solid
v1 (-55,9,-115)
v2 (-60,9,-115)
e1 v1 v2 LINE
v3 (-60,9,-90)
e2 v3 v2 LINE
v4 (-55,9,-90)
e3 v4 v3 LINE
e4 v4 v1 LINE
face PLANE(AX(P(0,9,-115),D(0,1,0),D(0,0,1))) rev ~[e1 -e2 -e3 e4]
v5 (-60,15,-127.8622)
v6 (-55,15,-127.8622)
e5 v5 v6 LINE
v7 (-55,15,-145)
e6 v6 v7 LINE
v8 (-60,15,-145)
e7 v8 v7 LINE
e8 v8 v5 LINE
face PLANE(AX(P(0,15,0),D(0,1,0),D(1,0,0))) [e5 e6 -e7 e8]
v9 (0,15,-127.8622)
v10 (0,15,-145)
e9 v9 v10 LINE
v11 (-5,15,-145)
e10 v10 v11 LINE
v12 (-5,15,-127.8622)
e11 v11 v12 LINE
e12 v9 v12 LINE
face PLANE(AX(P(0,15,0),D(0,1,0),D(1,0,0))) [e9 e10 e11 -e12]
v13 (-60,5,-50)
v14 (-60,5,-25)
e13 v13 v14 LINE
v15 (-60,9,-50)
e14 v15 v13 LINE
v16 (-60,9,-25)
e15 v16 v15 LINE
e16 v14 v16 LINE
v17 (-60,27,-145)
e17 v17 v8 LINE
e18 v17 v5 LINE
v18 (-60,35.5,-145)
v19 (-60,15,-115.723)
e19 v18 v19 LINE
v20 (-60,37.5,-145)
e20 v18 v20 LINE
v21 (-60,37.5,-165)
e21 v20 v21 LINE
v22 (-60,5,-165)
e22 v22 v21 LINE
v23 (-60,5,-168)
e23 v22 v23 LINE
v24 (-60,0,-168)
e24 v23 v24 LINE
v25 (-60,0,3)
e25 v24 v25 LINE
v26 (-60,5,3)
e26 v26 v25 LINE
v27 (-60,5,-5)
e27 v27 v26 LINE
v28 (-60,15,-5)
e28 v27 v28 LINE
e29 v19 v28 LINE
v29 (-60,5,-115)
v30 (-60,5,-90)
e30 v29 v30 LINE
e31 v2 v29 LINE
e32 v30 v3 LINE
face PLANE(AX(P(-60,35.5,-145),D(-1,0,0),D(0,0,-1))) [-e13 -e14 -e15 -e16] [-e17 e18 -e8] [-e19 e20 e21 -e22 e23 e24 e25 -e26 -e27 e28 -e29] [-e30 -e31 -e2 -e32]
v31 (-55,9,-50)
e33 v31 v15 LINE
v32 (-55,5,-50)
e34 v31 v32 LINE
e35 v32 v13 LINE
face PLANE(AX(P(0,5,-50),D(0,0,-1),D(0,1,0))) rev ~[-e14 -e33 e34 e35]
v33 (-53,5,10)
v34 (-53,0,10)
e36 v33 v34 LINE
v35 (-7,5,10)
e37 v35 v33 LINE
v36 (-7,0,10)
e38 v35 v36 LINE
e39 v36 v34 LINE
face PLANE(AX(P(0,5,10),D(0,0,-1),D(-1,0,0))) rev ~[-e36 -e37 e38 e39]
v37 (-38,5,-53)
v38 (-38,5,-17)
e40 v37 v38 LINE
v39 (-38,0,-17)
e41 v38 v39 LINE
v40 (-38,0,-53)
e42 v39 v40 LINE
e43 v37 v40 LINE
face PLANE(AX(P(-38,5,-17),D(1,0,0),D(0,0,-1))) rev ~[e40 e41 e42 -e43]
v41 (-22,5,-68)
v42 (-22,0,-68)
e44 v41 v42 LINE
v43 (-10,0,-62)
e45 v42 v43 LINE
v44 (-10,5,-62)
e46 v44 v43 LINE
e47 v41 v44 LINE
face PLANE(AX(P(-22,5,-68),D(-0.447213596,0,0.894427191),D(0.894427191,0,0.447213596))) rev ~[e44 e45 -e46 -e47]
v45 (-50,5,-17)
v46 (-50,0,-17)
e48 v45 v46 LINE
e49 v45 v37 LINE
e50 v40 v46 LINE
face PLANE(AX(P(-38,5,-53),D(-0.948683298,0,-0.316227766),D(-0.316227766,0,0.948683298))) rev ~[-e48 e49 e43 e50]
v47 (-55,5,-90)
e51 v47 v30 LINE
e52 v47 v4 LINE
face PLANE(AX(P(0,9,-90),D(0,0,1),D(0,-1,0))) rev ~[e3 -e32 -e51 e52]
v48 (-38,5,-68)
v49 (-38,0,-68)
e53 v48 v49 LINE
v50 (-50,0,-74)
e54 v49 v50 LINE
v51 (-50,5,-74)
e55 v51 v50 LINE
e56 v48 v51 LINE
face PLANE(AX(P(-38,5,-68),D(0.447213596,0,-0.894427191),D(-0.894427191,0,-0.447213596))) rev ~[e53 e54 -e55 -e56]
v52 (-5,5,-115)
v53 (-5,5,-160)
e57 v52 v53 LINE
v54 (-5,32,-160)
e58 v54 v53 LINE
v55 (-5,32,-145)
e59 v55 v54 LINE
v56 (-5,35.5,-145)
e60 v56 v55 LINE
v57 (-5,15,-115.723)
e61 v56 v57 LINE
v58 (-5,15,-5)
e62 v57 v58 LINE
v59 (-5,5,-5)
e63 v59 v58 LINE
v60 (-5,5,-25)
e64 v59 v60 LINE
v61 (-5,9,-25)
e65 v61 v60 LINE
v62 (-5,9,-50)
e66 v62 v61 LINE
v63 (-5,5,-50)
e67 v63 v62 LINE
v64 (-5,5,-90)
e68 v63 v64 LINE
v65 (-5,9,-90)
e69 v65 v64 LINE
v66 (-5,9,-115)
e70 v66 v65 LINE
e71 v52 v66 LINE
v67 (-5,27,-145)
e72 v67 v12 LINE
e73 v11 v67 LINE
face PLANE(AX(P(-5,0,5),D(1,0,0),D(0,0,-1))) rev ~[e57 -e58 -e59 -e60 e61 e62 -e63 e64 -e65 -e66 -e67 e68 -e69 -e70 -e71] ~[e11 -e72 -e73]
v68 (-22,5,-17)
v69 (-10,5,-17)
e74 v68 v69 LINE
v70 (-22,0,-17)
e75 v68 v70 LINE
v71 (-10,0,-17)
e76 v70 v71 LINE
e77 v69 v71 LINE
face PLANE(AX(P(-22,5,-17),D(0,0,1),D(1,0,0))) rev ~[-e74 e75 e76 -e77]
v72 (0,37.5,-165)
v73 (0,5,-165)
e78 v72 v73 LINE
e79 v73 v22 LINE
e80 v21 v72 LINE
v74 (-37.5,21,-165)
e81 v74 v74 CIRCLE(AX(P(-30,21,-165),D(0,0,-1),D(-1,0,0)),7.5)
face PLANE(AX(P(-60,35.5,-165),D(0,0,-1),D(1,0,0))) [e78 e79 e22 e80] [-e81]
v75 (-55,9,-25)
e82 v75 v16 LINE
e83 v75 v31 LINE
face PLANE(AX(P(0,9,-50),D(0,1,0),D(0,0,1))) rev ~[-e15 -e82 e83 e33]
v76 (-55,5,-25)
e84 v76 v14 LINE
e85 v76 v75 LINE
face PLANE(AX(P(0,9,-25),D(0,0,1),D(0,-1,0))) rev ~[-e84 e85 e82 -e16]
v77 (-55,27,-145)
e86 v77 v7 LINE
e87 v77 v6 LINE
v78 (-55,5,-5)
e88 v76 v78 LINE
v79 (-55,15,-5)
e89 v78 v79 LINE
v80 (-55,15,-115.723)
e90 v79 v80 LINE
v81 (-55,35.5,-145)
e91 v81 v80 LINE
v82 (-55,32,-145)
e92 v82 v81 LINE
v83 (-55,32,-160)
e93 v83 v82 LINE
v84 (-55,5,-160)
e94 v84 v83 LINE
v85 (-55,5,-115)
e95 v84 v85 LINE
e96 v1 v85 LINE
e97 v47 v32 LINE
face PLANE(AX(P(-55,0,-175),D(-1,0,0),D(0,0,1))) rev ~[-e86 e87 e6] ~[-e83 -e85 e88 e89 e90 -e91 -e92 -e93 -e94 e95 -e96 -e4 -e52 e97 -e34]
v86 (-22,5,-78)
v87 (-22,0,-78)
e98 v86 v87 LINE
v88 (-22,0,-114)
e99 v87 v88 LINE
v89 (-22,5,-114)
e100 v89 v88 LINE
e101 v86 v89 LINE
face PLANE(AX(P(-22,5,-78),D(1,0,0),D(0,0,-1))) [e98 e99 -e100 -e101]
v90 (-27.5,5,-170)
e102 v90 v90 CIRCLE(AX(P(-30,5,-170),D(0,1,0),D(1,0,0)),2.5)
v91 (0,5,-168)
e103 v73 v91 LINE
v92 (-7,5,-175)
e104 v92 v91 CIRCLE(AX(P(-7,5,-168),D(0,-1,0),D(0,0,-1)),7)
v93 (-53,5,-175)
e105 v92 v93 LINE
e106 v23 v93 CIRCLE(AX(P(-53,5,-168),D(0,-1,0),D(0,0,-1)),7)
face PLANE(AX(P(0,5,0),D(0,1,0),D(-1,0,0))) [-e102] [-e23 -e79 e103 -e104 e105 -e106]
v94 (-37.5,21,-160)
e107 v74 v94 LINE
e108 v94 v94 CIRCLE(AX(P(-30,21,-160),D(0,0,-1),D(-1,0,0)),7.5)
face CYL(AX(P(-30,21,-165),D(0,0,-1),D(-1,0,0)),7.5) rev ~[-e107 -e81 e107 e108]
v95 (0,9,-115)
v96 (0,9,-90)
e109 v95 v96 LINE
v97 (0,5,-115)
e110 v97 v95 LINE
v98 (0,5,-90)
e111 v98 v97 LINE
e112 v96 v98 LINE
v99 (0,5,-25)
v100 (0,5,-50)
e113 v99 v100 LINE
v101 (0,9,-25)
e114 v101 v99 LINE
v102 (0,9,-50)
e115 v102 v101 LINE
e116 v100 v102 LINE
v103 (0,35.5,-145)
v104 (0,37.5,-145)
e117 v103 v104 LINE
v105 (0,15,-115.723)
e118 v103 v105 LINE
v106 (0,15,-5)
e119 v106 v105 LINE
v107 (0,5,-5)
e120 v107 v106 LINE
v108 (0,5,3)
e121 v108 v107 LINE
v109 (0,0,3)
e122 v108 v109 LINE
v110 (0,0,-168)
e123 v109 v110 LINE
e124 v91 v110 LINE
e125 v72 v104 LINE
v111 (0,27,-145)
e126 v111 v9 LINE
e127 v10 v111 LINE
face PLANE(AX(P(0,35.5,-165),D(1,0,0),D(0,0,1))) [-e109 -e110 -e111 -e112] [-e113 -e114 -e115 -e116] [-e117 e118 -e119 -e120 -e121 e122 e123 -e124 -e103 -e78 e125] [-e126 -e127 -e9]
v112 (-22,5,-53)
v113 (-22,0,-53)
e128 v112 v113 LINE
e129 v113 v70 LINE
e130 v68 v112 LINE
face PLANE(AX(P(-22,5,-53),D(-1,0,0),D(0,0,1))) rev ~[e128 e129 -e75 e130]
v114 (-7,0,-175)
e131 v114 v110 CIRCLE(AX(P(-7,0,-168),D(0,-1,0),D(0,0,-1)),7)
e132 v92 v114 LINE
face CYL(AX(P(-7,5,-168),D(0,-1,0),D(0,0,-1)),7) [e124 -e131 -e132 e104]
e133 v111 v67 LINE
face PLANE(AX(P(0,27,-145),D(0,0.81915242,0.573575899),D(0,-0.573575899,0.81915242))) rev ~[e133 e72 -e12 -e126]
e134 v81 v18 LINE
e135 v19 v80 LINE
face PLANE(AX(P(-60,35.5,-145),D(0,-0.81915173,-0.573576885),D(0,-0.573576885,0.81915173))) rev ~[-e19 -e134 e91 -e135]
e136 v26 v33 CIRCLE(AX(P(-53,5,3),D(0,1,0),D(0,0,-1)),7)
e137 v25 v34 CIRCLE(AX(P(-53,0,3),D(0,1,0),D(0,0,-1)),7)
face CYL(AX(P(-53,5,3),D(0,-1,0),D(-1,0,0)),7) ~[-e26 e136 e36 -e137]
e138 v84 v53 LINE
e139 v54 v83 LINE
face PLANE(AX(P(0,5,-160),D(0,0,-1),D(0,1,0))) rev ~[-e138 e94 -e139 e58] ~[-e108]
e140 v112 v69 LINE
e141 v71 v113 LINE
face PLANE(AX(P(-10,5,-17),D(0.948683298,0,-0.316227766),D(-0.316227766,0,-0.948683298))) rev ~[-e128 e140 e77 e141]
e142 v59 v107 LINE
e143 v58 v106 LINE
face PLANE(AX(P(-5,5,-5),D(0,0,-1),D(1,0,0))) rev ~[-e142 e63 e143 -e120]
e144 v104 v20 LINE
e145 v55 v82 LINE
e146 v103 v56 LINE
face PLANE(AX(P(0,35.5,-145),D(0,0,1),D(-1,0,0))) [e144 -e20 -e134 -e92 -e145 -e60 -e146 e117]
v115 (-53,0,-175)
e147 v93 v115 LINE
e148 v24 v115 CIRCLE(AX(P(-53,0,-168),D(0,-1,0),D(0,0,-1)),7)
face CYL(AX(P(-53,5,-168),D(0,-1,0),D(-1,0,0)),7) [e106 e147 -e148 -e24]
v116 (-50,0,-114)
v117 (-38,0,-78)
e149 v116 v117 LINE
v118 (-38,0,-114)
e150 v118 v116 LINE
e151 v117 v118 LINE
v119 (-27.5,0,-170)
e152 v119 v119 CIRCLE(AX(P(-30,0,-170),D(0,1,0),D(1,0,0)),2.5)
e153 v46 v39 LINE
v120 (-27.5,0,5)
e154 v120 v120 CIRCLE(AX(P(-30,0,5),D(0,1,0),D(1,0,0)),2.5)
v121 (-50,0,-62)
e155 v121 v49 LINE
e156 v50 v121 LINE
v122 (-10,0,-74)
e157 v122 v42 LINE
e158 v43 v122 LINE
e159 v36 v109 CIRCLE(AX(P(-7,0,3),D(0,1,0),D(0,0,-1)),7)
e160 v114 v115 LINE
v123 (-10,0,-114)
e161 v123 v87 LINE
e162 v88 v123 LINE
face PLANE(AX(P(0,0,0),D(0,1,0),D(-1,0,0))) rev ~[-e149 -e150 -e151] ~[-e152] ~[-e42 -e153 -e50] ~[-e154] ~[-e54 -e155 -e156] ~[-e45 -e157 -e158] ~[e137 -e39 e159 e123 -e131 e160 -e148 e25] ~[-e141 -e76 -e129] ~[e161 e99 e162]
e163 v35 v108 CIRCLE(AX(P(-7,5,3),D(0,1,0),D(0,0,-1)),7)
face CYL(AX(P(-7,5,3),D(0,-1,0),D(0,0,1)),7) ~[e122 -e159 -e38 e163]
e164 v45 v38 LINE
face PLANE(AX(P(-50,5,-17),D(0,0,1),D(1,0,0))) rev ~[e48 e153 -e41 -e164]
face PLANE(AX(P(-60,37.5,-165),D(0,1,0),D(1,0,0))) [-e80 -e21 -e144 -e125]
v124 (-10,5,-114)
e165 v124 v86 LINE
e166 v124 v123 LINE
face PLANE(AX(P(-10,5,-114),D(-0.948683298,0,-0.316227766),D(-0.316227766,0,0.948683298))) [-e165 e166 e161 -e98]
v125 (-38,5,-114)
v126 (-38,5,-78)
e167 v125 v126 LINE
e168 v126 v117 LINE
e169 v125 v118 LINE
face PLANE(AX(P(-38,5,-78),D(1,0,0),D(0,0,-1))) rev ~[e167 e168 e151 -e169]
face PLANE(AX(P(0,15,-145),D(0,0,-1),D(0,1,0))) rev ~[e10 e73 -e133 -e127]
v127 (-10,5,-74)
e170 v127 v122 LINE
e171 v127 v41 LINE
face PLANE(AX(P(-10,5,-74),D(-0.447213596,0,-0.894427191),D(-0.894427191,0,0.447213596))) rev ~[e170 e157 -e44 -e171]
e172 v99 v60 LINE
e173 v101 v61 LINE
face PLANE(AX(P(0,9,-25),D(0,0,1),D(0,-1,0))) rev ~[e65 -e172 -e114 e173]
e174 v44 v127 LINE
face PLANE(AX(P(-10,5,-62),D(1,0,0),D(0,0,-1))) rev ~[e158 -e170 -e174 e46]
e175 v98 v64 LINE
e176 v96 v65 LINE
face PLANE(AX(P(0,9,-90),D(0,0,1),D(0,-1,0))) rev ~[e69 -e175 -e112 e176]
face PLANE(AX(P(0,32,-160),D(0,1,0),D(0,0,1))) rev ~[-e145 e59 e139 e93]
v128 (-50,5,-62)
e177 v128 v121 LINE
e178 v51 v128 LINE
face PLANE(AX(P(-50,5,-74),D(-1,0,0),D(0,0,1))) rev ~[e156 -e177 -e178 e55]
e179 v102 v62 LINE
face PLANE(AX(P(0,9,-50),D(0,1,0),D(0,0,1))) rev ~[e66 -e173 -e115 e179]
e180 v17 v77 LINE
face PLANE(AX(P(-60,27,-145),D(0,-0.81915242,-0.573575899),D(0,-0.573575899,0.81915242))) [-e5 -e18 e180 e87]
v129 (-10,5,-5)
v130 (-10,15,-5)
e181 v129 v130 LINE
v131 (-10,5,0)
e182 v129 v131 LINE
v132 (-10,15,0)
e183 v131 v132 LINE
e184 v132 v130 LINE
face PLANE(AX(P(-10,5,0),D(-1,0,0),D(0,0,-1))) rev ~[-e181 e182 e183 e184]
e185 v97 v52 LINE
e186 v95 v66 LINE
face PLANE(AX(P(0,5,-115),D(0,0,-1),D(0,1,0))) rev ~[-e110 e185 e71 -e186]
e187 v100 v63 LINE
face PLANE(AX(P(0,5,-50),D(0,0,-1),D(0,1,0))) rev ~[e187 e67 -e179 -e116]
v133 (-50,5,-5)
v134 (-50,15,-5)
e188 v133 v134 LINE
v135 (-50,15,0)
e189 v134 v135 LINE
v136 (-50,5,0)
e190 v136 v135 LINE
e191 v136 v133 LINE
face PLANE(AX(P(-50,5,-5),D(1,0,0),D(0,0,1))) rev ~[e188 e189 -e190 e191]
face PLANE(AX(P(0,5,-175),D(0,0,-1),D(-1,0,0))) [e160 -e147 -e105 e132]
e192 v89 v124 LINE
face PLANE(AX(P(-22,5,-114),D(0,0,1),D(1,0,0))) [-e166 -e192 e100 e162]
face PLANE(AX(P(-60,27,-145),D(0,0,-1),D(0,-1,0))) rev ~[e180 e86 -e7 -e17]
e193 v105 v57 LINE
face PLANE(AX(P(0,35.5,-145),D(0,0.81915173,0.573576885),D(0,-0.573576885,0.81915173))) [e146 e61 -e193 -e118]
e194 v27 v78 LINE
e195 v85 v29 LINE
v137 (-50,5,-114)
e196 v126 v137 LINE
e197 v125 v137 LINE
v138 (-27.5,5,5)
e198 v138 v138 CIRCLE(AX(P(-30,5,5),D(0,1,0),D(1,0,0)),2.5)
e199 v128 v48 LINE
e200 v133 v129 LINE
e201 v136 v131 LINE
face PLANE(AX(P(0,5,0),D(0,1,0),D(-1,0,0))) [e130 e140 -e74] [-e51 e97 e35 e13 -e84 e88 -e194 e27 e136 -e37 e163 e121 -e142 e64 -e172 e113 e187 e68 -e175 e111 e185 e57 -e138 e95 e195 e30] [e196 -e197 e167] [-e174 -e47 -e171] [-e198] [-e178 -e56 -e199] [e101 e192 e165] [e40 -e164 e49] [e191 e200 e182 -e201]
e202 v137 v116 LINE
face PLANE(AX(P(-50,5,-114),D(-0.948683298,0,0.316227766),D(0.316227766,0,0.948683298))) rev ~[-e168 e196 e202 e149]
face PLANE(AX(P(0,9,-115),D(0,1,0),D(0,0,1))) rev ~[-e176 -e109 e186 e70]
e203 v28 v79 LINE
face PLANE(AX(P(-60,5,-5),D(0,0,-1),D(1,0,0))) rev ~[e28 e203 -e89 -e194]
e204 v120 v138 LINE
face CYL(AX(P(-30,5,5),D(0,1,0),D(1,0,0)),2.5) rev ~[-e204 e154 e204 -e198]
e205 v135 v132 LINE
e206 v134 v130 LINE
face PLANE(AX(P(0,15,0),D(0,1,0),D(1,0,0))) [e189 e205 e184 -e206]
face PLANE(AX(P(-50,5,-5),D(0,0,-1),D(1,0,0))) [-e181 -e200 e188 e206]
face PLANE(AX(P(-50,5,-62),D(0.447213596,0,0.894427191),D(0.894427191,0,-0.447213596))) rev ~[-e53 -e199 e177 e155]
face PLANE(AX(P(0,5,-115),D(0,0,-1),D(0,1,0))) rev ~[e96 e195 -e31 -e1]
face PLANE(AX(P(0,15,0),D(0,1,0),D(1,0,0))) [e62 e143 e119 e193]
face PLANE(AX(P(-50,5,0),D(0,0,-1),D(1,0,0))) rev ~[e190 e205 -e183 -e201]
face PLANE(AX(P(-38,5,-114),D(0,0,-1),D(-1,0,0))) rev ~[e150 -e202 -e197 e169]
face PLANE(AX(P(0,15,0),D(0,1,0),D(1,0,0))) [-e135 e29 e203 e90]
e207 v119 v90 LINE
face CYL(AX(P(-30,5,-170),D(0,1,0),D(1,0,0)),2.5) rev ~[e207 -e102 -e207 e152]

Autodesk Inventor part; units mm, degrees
ref_plane "YZ Plane" through (0, 0, 0) normal (1, 0, 0) x (0, 1, 0)
ref_plane "XZ Plane" through (0, 0, 0) normal (0, 1, 0) x (-1, 0, 0)
ref_plane "XY Plane" through (0, 0, 0) normal (0, 0, 1) x (1, 0, 0)
sketch "Sketch1" plane through (0, 0, 0) normal (0, 1, 0) x (-1, 0, 0)
  line L0 (0, 0) -> (60, 0)
  line L1 (60, 0) -> (60, -170)
  line L2 (60, -170) -> (0, -170)
  line L3 (0, -170) -> (0, 0)
  dimension "d0" = 60
  dimension "d1" = 170
extrude "Extrusion1" add sketch "Sketch1" along normal blind 5
sketch "Sketch2" plane through (0, 5, 0) normal (0, 1, 0) x (1, 0, 0)
  line L0 (-60, 0) -> (-55, 0)
  line L1 (-60, 170) -> (-60, 0) projected
  line L2 (0, 0) -> (0, 170) projected
  line L3 (-60, 170) -> (0, 170)
  line L4 (0, 170) -> (0, 162.5)
  line L5 (0, 162.5) -> (-60, 162.5)
  line L6 (-60, 162.5) -> (-60, 170)
  line L7 (-60, 0) -> (0, 0) projected
  line L8 (-60, 0) -> (0, 0)
  line L9 (0, 0) -> (0, 7.5)
  line L10 (0, 7.5) -> (-60, 7.5)
  line L11 (-60, 7.5) -> (-60, 0)
  line L12 (0, 170) -> (-60, 170) projected
  line L13 (-60, 0) -> (-55, 0)
  line L14 (-55, 0) -> (-55, 170)
  line L15 (-55, 170) -> (-60, 170)
  line L16 (-60, 170) -> (-60, 0)
  line L17 (0, 0) -> (-5, 0)
  line L18 (-5, 0) -> (-5, 170)
  line L19 (-5, 170) -> (0, 170)
  line L20 (0, 170) -> (0, 0)
  line L21 (-60, 0) -> (0, 0)
  line L22 (0, 0) -> (0, -5)
  line L23 (0, -5) -> (-60, -5)
  line L24 (-60, -5) -> (-60, 0)
  line L25 (-60, 170) -> (0, 170)
  line L26 (0, 170) -> (0, 175)
  line L27 (0, 175) -> (-60, 175)
  line L28 (-60, 175) -> (-60, 170)
  dimension "d5" = 7.5
  dimension "d6" = 7.5
  dimension "d7" = 5
  dimension "d8" = 5
  dimension "d10" = 5
  dimension "d11" = 5
extrude "Extrusion2" add sketch "Sketch2" against normal blind 5 contours L0 L7 L22 L23 L24 | L28 L27 L26 L3
sketch "Sketch3" plane through (0, 5, 0) normal (0, 1, 0) x (1, 0, 0)
  line L0 (0, -5) -> (-60, -5) projected
  line L1 (0, -5) -> (0, 175) projected
  line L2 (-60, -10) -> (0, -10)
  line L3 (0, -5) -> (0, 5)
  line L4 (-60, 5) -> (-60, -5)
  line L5 (-55, 175) -> (-60, 175)
  line L6 (-60, 175) -> (-60, 5)
  line L7 (-5, 175) -> (0, 175)
  line L8 (-60, 175) -> (-60, -5) projected
  line L9 (-60, 175) -> (-1, 175)
  line L10 (-1, 165) -> (-60, 165)
  line L11 (-60, 165) -> (-60, 175)
  line L12 (-55, 165) -> (-5, 165)
  line L13 (-5, 160) -> (-55, 160)
  line L14 (-55, 5) -> (-55, 160)
  line L15 (-5, 5) -> (-5, 160)
  line L16 (-50, 5) -> (-10, 5)
  line L17 (-10, 5) -> (-10, 5)
  line L18 (-10, 5) -> (-50, 5)
  line L19 (-50, 5) -> (-50, 5)
  line L20 (-60, 5) -> (-55, 5)
  line L21 (-5, 5) -> (0, 5)
  line L22 (0, 5) -> (0, 165)
  line L23 (-60, -5) -> (-60, -10)
  line L24 (0, -5) -> (0, -10)
  line L25 (-50, 5) -> (-50, 0)
  line L26 (-50, 0) -> (-10, 0)
  line L27 (-10, 0) -> (-10, 5)
  point P0 (0, 0)
  dimension "d15" = 5
  dimension "d16" = 5
  dimension "d17" = 10
  dimension "d18" = 5
  dimension "d19" = 40
  dimension "d89" = 155
  dimension "d90" = 5
  dimension "d91" = 10
sketch "Sketch4" plane through (0, 5, 0) normal (0, 1, 0) x (1, 0, 0)
  line L0 (-60, 175) -> (-60, -5) projected
  line L1 (-60, 5) -> (-55, 5)
  line L2 (-55, 5) -> (-55, 160)
  line L3 (-55, 160) -> (-5, 160)
  line L4 (-5, 160) -> (-5, 5)
  line L5 (-5, 5) -> (0, 5)
  line L6 (0, -5) -> (0, 175) projected
  line L7 (0, 165) -> (-60, 165)
  line L8 (-60, 165) -> (-60, 5)
  point P0 (0, 0)
extrude "Extrusion3" add sketch "Sketch3" along normal blind 10 contours L16 L27 L26 L25
extrude "Extrusion4" add sketch "Sketch4" along normal blind 10
sketch "Sketch5" plane through (0, 0, 5) normal (1, 0, 0) x (0, 0, -1)
  line L0 (180, 5) -> (170, 5) projected
  line L1 (170, 5) -> (165, 5)
  line L2 (165, 5) -> (165, 32)
  line L3 (165, 32) -> (170, 32)
  line L4 (170, 32) -> (170, 5)
  point P0 (5, 0)
  dimension "d25" = 5
  dimension "d26" = 27
sketch "Sketch6" plane through (0, 5, 0) normal (0, 1, 0) x (1, 0, 0)
  point P0 (0, 0)
extrude "Extrusion5" add sketch "Sketch5" against normal blind 60
sketch "Sketch7" plane through (0, 0, 5) normal (1, 0, 0) x (0, 0, -1)
  line L0 (165, 32) -> (170, 32) projected
  line L1 (170, 32) -> (150, 32)
  line L2 (150, 32) -> (150, 35.5)
  line L3 (150, 35.5) -> (170, 35.5)
  line L4 (170, 35.5) -> (170, 32)
  point P0 (5, 0)
  dimension "d29" = 20
  dimension "d30" = 3.5
extrude "Extrusion6" add sketch "Sketch7" against normal blind 60
sketch "Sketch8" plane through (-55, 5, -160) normal (0, 0, 1) x (1, 0, 0)
  point P0 (55, -5)
sketch "Sketch9" plane through (0, 0, 5) normal (1, 0, 0) x (0, 0, -1)
  line L0 (150, 35.5) -> (170, 35.5) projected
  line L1 (170, 35.5) -> (170, 5) projected
  line L2 (150, 35.5) -> (170, 35.5)
  line L3 (170, 35.5) -> (170, 27)
  line L4 (170, 27) -> (150, 27)
  line L5 (150, 27) -> (150, 35.5)
  point P0 (5, 0)
extrude "Extrusion7" add sketch "Sketch9" against normal blind 5
sketch "Sketch10" plane through (0, 0, 5) normal (1, 0, 0) x (0, 0, -1)
  line L0 (150, 35.5) -> (150, 27) projected
  line L1 (150, 27) -> (132.8622, 15)
  line L2 (10, 15) -> (165, 15) projected
  line L3 (150, 27) -> (170.9214, 27) construction
  line L4 (150, 35.5) -> (170, 35.5) projected
  line L5 (150, 35.5) -> (120.723, 15)
  line L6 (150, 35.5) -> (185.7407, 35.5) construction
  line L7 (132.8622, 15) -> (120.723, 15)
  line L8 (150, 35.5) -> (150, 27)
  point P0 (5, 0)
  dimension "d35" = 145
  dimension "d36" = 145
extrude "Extrusion8" add sketch "Sketch10" against normal blind 5
sketch "Sketch11" plane through (0, 0, 5) normal (1, 0, 0) x (0, 0, -1)
  point P0 (5, 0)
sketch "Sketch12" plane through (-60, 0, -175) normal (-1, 0, 0) x (0, 0, 1)
  line L0 (10, 35.5) -> (10, 5) projected
  line L1 (15, 27) -> (30, 27) projected
  line L2 (10, 35.5) -> (30, 35.5)
  line L3 (30, 35.5) -> (30, 27)
  line L4 (30, 27) -> (10, 27)
  line L5 (10, 27) -> (10, 35.5)
  point P0 (175, 0)
extrude "Extrusion9" add sketch "Sketch12" against normal blind 5
sketch "Sketch13" plane through (-60, 0, -175) normal (-1, 0, 0) x (0, 0, 1)
  line L0 (30, 27) -> (47.1378, 15)
  line L1 (15, 15) -> (170, 15) projected
  line L2 (30, 27) -> (50.9214, 27) construction
  line L3 (30, 32) -> (30, 35.5) projected
  line L4 (30, 35.5) -> (59.277, 15)
  line L5 (30, 35.5) -> (65.7407, 35.5) construction
  line L6 (59.277, 15) -> (47.1378, 15)
  line L7 (30, 27) -> (15, 27) projected
  line L8 (30, 35.5) -> (30, 27) projected
  line L9 (30, 27) -> (30, 35.5)
  point P0 (175, 0)
  dimension "d41" = 35
  dimension "d42" = 35
extrude "Extrusion10" add sketch "Sketch13" against normal blind 5
sketch "Sketch14" plane through (0, 0, 5) normal (1, 0, 0) x (0, 0, -1)
  line L0 (107.1526, 5) -> (92.1526, 5)
  line L1 (92.1526, 5) -> (92.1526, 7)
  line L2 (92.1526, 7) -> (107.1526, 7)
  line L3 (107.1526, 7) -> (107.1526, 5)
  line L4 (20, 5) -> (35, 5)
  line L5 (35, 5) -> (35, 7)
  line L6 (35, 7) -> (20, 7)
  line L7 (20, 7) -> (20, 5)
  point P0 (5, 0)
  point P1 (10, 5)
  point P2 (120.723, 15)
  dimension "d45" = 10
  dimension "d47" = 15
  dimension "d48" = 15
extrude "Extrusion11" cut sketch "Sketch14" against normal through all
sketch "Sketch15" plane through (0, 5, -165) normal (0, 0, -1) x (-1, 0, 0)
  circle A0 centre (30, 16) radius 7.5
  point P0 (0, -5)
  point P1 (0, 30.5)
  dimension "d53" = 15
extrude "Extrusion12" cut sketch "Sketch15" against normal blind 5
sketch "Sketch16" plane through (0, 0, 5) normal (1, 0, 0) x (0, 0, -1)
  line L0 (165, 27) -> (150, 27) projected
  line L1 (165, 15) -> (165, 27) projected
  line L2 (150, 27) -> (165, 27)
  line L3 (165, 27) -> (165, 15)
  line L4 (165, 15) -> (150, 15)
  line L5 (150, 15) -> (150, 27)
  point P0 (5, 0)
extrude "Extrusion13" add sketch "Sketch16" against normal blind 5
sketch "Sketch17" plane through (-60, 0, -175) normal (-1, 0, 0) x (0, 0, 1)
  line L0 (30, 27) -> (15, 27) projected
  line L1 (47.1378, 15) -> (30, 15) projected
  line L2 (15, 27) -> (30, 27)
  line L3 (30, 27) -> (30, 15)
  line L4 (30, 15) -> (15, 15)
  line L5 (15, 15) -> (15, 27)
  point P0 (175, 0)
extrude "Extrusion14" add sketch "Sketch17" against normal blind 5
fillet "Fillet1" radius 7 4 edges at (0, 2.5, -175) (-60, 2.5, -175) (0, 2.5, 5) (-60, 2.5, 5)
sketch "Sketch19" plane through (0, 5, 0) normal (0, 1, 0) x (1, 0, 0)
  line L0 (-50, 5) -> (-50, 5) projected
  line L1 (-50, 17) -> (-38, 17)
  line L2 (-38, 17) -> (-38, 53)
  line L3 (-38, 53) -> (-50, 17)
  line L4 (-10, 22) -> (-22, 22)
  line L5 (-22, 22) -> (-22, 58)
  line L6 (-22, 58) -> (-10, 22)
  line L7 (-38, 78) -> (-38, 114)
  line L8 (-38, 114) -> (-50, 114)
  line L9 (-50, 114) -> (-38, 78)
  line L10 (-22, 78) -> (-22, 114)
  line L11 (-22, 114) -> (-10, 114)
  line L12 (-10, 114) -> (-22, 78)
  point P0 (0, 0)
  dimension "d67" = 12
  dimension "d68" = 12
  dimension "d69" = 36
  dimension "d71" = 12
  dimension "d72" = 36
  dimension "d73" = 12
  dimension "d74" = 20
  dimension "d75" = 36
  dimension "d76" = 12
extrude "Extrusion16" cut sketch "Sketch19" against normal blind 5
sketch "Sketch20" plane through (0, 5, 0) normal (0, 1, 0) x (1, 0, 0)
  line L0 (-38, 17) -> (-50, 17) projected
  line L1 (-50, 114) -> (-38, 78) projected
  line L2 (-38, 78) -> (-38, 114) projected
  line L3 (-38, 68) -> (-50, 74)
  line L4 (-50, 62) -> (-38, 68)
  line L5 (-50, 74) -> (-50, 62)
  line L6 (-22, 68) -> (-10, 62)
  line L7 (-10, 74) -> (-22, 68)
  line L8 (-10, 62) -> (-10, 74)
  point P0 (0, 0)
extrude "Extrusion17" cut sketch "Sketch20" against normal blind 5
sketch "Sketch21" plane through (-60, 5, -5) normal (-1, 0, 0) x (0, 0, 1)
  line L0 (-17, 0) -> (-53, 0) projected
  line L1 (-7, 2) -> (-31, 2)
  line L2 (-31, 2) -> (-31, 0)
  line L3 (-31, 0) -> (-7, 0)
  line L4 (-7, 0) -> (-7, 2)
  line L5 (-79, 2) -> (-103, 2)
  line L6 (-103, 2) -> (-103, 0)
  line L7 (-103, 0) -> (-79, 0)
  line L8 (-79, 0) -> (-79, 2)
  point P0 (5, -5)
  dimension "d84" = 24
  dimension "d85" = 24
extrude "Extrusion18" cut sketch "Sketch21" against normal through all
sketch "Sketch22" plane through (0, 5, 0) normal (0, 1, 0) x (1, 0, 0)
  point P0 (0, 0)
sketch "Sketch24" plane through (0, 5, 0) normal (0, 1, 0) x (1, 0, 0)
  point P0 (0, 0)
sketch "Sketch25" plane through (0, 5, 0) normal (0, 1, 0) x (1, 0, 0)
  point P0 (0, 0)
sketch "Sketch26" plane through (0, 5, 0) normal (0, 1, 0) x (1, 0, 0)
  arc A0 (-60, 2) -> (-53, -5) centre (-53, 2) ccw projected
  line L0 (-60, 2) -> (0, 2)
  line L1 (0, 2) -> (0, -10)
  line L2 (0, -10) -> (-60, -10)
  line L3 (-60, -10) -> (-60, 2)
  point P0 (0, 0)
  dimension "d93" = 12
extrude "Extrusion19" add sketch "Sketch26" against normal blind 5
sketch "Sketch27" plane through (0, 5, 0) normal (0, 1, 0) x (1, 0, 0)
  point P0 (0, 0)
sketch "Sketch28" plane through (-60, 5, 10) normal (0, 0, 1) x (1, 0, 0)
  point P0 (60, -5)
sketch "Sketch29" plane through (0, 5, 0) normal (0, 1, 0) x (1, 0, 0)
  line L0 (-30, -10) -> (-30, -5)
  circle A0 centre (-30, -5) radius 2.5
  arc A1 (-53, 175) -> (-60, 168) centre (-53, 168) ccw projected
  line L1 (-7, 175) -> (-53, 175) projected
  line L2 (-30, 175) -> (-30, 170)
  circle A2 centre (-30, 170) radius 2.5
  point P0 (0, 0)
  point P1 (-60, -10)
  dimension "d96" = 30
  dimension "d97" = 5
  dimension "d98" = 5
  dimension "d102" = 5
extrude "Extrusion20" cut sketch "Sketch29" along normal mid plane 10
fillet "Fillet2" radius 7 2 edges at (-60, 2.5, 10) (0, 2.5, 10)
sketch "Sketch30" plane through (0, 5, 0) normal (0, 1, 0) x (1, 0, 0)
  line L0 (-22, 22) -> (-10, 22) projected
  line L1 (-24, 58) -> (-10, 58)
  line L2 (-10, 58) -> (-10, 22)
  line L3 (-10, 22) -> (-24, 22)
  line L4 (-24, 22) -> (-24, 58)
  point P0 (0, 0)
extrude "Extrusion21" add sketch "Sketch30" against normal blind 5
sketch "Sketch31" plane through (0, 5, 0) normal (0, 1, 0) x (1, 0, 0)
  point P0 (0, 0)
sketch "Sketch32" plane through (0, 5, 0) normal (0, 1, 0) x (1, 0, 0)
  line L0 (-38, 53) -> (-50, 17) projected
  line L1 (-50, 17) -> (-38, 17) projected
  line L2 (-22, 53) -> (-22, 17)
  line L3 (-22, 53) -> (-10, 17)
  line L4 (-22, 17) -> (-10, 17)
  point P0 (0, 0)
extrude "Extrusion22" add sketch "Sketch32" against normal blind 2
sketch "Sketch33" plane through (0, 5, 0) normal (0, 1, 0) x (1, 0, 0)
  point P0 (0, 0)
sketch "Sketch34" plane through (0, 5, 0) normal (0, 1, 0) x (1, 0, 0)
  line L0 (-5, 160) -> (-55, 160) projected
  line L1 (-50, 5) -> (-10, 5) projected
  point P0 (0, 0)
  dimension "d111" = 155
sketch "Sketch35" plane through (-55, 5, -160) normal (0, 0, 1) x (1, 0, 0)
  point P0 (55, -5)
sketch "Sketch37" plane through (0, 5, 0) normal (0, 1, 0) x (1, 0, 0)
  line L0 (-22, 68) -> (-10, 62) projected
  line L1 (-38, 17) -> (-50, 17) projected
  line L2 (-10, 74) -> (-10, 62) projected
  line L3 (-38, 53) -> (-38, 17) projected
  line L4 (-22, 53) -> (-22, 17)
  line L5 (-10, 17) -> (-22, 53)
  line L6 (-22, 17) -> (-10, 17)
  point P0 (0, 0)
extrude "Extrusion23" cut sketch "Sketch37" against normal blind 10
sketch "Sketch38" plane through (0, 5, -5) normal (1, 0, 0) x (0, 0, -1)
  line L0 (31, 2) -> (7, 2) projected
  line L1 (31, 0) -> (31, 2) projected
  line L2 (7, 2) -> (31, 2)
  line L3 (31, 2) -> (31, 0)
  line L4 (31, 0) -> (7, 0)
  line L5 (7, 0) -> (7, 2)
  line L6 (103, 0) -> (79, 0) projected
  line L7 (79, 2) -> (103, 2)
  line L8 (103, 2) -> (103, 0)
  line L9 (103, 0) -> (79, 0)
  line L10 (79, 0) -> (79, 2)
  point P0 (-5, -5)
extrude "Extrusion24" add sketch "Sketch38" against normal blind 5
sketch "Sketch39" plane through (-60, 5, -5) normal (-1, 0, 0) x (0, 0, 1)
  line L0 (-103, 2) -> (-103, 0) projected
  line L1 (-79, 0) -> (-79, 2) projected
  line L2 (-103, 2) -> (-79, 2)
  line L3 (-79, 2) -> (-79, 0)
  line L4 (-79, 0) -> (-103, 0)
  line L5 (-103, 0) -> (-103, 2)
  line L6 (-31, 2) -> (-7, 2) projected
  line L7 (-7, 0) -> (-31, 0) projected
  line L8 (-31, 2) -> (-7, 2)
  line L9 (-7, 2) -> (-7, 0)
  line L10 (-7, 0) -> (-31, 0)
  line L11 (-31, 0) -> (-31, 2)
  point P0 (5, -5)
extrude "Extrusion25" add sketch "Sketch39" against normal blind 5
sketch "Sketch40" plane through (0, 5, -5) normal (1, 0, 0) x (0, 0, -1)
  line L0 (0, 0) -> (0, 10) projected
  line L1 (0, 0) -> (20, 0)
  line L2 (0, 0) -> (155, 0) projected
  line L3 (20, 0) -> (70, 0)
  line L4 (70, 0) -> (85, 0)
  line L5 (20, 0) -> (45, 0)
  line L6 (45, 0) -> (45, 4)
  line L7 (45, 4) -> (20, 4)
  line L8 (20, 4) -> (20, 0)
  line L9 (85, 0) -> (110, 0)
  line L10 (110, 0) -> (110, 4)
  line L11 (110, 4) -> (85, 4)
  line L12 (85, 4) -> (85, 0)
  point P0 (-5, -5)
  dimension "d118" = 20
  dimension "d119" = 50
  dimension "d120" = 15
  dimension "d121" = 25
  dimension "d122" = 4
  dimension "d123" = 25
  dimension "d124" = 4
extrude "Extrusion26" cut sketch "Sketch40" against normal through all
sketch "Sketch41" plane through (-55, 5, -160) normal (0, 0, 1) x (1, 0, 0)
  point P0 (55, -5)
sketch "Sketch42" plane through (-60, 35.5, -165) normal (0, 1, 0) x (1, 0, 0)
  line L0 (0, 0) -> (60, 0)
  line L1 (60, 0) -> (60, -20)
  line L2 (60, -20) -> (0, -20)
  line L3 (0, -20) -> (0, 0)
  point P0 (60, -165)
extrude "Extrusion27" add sketch "Sketch42" along normal blind 2
sketch "Sketch43" plane through (0, 5, -5) normal (1, 0, 0) x (0, 0, -1)
  point P0 (-5, -5)
sketch "Sketch44" plane through (0, 5, 0) normal (0, 1, 0) x (1, 0, 0)
  point P0 (0, 0)
properties part number "3C_LiPoBatteryHolder"
